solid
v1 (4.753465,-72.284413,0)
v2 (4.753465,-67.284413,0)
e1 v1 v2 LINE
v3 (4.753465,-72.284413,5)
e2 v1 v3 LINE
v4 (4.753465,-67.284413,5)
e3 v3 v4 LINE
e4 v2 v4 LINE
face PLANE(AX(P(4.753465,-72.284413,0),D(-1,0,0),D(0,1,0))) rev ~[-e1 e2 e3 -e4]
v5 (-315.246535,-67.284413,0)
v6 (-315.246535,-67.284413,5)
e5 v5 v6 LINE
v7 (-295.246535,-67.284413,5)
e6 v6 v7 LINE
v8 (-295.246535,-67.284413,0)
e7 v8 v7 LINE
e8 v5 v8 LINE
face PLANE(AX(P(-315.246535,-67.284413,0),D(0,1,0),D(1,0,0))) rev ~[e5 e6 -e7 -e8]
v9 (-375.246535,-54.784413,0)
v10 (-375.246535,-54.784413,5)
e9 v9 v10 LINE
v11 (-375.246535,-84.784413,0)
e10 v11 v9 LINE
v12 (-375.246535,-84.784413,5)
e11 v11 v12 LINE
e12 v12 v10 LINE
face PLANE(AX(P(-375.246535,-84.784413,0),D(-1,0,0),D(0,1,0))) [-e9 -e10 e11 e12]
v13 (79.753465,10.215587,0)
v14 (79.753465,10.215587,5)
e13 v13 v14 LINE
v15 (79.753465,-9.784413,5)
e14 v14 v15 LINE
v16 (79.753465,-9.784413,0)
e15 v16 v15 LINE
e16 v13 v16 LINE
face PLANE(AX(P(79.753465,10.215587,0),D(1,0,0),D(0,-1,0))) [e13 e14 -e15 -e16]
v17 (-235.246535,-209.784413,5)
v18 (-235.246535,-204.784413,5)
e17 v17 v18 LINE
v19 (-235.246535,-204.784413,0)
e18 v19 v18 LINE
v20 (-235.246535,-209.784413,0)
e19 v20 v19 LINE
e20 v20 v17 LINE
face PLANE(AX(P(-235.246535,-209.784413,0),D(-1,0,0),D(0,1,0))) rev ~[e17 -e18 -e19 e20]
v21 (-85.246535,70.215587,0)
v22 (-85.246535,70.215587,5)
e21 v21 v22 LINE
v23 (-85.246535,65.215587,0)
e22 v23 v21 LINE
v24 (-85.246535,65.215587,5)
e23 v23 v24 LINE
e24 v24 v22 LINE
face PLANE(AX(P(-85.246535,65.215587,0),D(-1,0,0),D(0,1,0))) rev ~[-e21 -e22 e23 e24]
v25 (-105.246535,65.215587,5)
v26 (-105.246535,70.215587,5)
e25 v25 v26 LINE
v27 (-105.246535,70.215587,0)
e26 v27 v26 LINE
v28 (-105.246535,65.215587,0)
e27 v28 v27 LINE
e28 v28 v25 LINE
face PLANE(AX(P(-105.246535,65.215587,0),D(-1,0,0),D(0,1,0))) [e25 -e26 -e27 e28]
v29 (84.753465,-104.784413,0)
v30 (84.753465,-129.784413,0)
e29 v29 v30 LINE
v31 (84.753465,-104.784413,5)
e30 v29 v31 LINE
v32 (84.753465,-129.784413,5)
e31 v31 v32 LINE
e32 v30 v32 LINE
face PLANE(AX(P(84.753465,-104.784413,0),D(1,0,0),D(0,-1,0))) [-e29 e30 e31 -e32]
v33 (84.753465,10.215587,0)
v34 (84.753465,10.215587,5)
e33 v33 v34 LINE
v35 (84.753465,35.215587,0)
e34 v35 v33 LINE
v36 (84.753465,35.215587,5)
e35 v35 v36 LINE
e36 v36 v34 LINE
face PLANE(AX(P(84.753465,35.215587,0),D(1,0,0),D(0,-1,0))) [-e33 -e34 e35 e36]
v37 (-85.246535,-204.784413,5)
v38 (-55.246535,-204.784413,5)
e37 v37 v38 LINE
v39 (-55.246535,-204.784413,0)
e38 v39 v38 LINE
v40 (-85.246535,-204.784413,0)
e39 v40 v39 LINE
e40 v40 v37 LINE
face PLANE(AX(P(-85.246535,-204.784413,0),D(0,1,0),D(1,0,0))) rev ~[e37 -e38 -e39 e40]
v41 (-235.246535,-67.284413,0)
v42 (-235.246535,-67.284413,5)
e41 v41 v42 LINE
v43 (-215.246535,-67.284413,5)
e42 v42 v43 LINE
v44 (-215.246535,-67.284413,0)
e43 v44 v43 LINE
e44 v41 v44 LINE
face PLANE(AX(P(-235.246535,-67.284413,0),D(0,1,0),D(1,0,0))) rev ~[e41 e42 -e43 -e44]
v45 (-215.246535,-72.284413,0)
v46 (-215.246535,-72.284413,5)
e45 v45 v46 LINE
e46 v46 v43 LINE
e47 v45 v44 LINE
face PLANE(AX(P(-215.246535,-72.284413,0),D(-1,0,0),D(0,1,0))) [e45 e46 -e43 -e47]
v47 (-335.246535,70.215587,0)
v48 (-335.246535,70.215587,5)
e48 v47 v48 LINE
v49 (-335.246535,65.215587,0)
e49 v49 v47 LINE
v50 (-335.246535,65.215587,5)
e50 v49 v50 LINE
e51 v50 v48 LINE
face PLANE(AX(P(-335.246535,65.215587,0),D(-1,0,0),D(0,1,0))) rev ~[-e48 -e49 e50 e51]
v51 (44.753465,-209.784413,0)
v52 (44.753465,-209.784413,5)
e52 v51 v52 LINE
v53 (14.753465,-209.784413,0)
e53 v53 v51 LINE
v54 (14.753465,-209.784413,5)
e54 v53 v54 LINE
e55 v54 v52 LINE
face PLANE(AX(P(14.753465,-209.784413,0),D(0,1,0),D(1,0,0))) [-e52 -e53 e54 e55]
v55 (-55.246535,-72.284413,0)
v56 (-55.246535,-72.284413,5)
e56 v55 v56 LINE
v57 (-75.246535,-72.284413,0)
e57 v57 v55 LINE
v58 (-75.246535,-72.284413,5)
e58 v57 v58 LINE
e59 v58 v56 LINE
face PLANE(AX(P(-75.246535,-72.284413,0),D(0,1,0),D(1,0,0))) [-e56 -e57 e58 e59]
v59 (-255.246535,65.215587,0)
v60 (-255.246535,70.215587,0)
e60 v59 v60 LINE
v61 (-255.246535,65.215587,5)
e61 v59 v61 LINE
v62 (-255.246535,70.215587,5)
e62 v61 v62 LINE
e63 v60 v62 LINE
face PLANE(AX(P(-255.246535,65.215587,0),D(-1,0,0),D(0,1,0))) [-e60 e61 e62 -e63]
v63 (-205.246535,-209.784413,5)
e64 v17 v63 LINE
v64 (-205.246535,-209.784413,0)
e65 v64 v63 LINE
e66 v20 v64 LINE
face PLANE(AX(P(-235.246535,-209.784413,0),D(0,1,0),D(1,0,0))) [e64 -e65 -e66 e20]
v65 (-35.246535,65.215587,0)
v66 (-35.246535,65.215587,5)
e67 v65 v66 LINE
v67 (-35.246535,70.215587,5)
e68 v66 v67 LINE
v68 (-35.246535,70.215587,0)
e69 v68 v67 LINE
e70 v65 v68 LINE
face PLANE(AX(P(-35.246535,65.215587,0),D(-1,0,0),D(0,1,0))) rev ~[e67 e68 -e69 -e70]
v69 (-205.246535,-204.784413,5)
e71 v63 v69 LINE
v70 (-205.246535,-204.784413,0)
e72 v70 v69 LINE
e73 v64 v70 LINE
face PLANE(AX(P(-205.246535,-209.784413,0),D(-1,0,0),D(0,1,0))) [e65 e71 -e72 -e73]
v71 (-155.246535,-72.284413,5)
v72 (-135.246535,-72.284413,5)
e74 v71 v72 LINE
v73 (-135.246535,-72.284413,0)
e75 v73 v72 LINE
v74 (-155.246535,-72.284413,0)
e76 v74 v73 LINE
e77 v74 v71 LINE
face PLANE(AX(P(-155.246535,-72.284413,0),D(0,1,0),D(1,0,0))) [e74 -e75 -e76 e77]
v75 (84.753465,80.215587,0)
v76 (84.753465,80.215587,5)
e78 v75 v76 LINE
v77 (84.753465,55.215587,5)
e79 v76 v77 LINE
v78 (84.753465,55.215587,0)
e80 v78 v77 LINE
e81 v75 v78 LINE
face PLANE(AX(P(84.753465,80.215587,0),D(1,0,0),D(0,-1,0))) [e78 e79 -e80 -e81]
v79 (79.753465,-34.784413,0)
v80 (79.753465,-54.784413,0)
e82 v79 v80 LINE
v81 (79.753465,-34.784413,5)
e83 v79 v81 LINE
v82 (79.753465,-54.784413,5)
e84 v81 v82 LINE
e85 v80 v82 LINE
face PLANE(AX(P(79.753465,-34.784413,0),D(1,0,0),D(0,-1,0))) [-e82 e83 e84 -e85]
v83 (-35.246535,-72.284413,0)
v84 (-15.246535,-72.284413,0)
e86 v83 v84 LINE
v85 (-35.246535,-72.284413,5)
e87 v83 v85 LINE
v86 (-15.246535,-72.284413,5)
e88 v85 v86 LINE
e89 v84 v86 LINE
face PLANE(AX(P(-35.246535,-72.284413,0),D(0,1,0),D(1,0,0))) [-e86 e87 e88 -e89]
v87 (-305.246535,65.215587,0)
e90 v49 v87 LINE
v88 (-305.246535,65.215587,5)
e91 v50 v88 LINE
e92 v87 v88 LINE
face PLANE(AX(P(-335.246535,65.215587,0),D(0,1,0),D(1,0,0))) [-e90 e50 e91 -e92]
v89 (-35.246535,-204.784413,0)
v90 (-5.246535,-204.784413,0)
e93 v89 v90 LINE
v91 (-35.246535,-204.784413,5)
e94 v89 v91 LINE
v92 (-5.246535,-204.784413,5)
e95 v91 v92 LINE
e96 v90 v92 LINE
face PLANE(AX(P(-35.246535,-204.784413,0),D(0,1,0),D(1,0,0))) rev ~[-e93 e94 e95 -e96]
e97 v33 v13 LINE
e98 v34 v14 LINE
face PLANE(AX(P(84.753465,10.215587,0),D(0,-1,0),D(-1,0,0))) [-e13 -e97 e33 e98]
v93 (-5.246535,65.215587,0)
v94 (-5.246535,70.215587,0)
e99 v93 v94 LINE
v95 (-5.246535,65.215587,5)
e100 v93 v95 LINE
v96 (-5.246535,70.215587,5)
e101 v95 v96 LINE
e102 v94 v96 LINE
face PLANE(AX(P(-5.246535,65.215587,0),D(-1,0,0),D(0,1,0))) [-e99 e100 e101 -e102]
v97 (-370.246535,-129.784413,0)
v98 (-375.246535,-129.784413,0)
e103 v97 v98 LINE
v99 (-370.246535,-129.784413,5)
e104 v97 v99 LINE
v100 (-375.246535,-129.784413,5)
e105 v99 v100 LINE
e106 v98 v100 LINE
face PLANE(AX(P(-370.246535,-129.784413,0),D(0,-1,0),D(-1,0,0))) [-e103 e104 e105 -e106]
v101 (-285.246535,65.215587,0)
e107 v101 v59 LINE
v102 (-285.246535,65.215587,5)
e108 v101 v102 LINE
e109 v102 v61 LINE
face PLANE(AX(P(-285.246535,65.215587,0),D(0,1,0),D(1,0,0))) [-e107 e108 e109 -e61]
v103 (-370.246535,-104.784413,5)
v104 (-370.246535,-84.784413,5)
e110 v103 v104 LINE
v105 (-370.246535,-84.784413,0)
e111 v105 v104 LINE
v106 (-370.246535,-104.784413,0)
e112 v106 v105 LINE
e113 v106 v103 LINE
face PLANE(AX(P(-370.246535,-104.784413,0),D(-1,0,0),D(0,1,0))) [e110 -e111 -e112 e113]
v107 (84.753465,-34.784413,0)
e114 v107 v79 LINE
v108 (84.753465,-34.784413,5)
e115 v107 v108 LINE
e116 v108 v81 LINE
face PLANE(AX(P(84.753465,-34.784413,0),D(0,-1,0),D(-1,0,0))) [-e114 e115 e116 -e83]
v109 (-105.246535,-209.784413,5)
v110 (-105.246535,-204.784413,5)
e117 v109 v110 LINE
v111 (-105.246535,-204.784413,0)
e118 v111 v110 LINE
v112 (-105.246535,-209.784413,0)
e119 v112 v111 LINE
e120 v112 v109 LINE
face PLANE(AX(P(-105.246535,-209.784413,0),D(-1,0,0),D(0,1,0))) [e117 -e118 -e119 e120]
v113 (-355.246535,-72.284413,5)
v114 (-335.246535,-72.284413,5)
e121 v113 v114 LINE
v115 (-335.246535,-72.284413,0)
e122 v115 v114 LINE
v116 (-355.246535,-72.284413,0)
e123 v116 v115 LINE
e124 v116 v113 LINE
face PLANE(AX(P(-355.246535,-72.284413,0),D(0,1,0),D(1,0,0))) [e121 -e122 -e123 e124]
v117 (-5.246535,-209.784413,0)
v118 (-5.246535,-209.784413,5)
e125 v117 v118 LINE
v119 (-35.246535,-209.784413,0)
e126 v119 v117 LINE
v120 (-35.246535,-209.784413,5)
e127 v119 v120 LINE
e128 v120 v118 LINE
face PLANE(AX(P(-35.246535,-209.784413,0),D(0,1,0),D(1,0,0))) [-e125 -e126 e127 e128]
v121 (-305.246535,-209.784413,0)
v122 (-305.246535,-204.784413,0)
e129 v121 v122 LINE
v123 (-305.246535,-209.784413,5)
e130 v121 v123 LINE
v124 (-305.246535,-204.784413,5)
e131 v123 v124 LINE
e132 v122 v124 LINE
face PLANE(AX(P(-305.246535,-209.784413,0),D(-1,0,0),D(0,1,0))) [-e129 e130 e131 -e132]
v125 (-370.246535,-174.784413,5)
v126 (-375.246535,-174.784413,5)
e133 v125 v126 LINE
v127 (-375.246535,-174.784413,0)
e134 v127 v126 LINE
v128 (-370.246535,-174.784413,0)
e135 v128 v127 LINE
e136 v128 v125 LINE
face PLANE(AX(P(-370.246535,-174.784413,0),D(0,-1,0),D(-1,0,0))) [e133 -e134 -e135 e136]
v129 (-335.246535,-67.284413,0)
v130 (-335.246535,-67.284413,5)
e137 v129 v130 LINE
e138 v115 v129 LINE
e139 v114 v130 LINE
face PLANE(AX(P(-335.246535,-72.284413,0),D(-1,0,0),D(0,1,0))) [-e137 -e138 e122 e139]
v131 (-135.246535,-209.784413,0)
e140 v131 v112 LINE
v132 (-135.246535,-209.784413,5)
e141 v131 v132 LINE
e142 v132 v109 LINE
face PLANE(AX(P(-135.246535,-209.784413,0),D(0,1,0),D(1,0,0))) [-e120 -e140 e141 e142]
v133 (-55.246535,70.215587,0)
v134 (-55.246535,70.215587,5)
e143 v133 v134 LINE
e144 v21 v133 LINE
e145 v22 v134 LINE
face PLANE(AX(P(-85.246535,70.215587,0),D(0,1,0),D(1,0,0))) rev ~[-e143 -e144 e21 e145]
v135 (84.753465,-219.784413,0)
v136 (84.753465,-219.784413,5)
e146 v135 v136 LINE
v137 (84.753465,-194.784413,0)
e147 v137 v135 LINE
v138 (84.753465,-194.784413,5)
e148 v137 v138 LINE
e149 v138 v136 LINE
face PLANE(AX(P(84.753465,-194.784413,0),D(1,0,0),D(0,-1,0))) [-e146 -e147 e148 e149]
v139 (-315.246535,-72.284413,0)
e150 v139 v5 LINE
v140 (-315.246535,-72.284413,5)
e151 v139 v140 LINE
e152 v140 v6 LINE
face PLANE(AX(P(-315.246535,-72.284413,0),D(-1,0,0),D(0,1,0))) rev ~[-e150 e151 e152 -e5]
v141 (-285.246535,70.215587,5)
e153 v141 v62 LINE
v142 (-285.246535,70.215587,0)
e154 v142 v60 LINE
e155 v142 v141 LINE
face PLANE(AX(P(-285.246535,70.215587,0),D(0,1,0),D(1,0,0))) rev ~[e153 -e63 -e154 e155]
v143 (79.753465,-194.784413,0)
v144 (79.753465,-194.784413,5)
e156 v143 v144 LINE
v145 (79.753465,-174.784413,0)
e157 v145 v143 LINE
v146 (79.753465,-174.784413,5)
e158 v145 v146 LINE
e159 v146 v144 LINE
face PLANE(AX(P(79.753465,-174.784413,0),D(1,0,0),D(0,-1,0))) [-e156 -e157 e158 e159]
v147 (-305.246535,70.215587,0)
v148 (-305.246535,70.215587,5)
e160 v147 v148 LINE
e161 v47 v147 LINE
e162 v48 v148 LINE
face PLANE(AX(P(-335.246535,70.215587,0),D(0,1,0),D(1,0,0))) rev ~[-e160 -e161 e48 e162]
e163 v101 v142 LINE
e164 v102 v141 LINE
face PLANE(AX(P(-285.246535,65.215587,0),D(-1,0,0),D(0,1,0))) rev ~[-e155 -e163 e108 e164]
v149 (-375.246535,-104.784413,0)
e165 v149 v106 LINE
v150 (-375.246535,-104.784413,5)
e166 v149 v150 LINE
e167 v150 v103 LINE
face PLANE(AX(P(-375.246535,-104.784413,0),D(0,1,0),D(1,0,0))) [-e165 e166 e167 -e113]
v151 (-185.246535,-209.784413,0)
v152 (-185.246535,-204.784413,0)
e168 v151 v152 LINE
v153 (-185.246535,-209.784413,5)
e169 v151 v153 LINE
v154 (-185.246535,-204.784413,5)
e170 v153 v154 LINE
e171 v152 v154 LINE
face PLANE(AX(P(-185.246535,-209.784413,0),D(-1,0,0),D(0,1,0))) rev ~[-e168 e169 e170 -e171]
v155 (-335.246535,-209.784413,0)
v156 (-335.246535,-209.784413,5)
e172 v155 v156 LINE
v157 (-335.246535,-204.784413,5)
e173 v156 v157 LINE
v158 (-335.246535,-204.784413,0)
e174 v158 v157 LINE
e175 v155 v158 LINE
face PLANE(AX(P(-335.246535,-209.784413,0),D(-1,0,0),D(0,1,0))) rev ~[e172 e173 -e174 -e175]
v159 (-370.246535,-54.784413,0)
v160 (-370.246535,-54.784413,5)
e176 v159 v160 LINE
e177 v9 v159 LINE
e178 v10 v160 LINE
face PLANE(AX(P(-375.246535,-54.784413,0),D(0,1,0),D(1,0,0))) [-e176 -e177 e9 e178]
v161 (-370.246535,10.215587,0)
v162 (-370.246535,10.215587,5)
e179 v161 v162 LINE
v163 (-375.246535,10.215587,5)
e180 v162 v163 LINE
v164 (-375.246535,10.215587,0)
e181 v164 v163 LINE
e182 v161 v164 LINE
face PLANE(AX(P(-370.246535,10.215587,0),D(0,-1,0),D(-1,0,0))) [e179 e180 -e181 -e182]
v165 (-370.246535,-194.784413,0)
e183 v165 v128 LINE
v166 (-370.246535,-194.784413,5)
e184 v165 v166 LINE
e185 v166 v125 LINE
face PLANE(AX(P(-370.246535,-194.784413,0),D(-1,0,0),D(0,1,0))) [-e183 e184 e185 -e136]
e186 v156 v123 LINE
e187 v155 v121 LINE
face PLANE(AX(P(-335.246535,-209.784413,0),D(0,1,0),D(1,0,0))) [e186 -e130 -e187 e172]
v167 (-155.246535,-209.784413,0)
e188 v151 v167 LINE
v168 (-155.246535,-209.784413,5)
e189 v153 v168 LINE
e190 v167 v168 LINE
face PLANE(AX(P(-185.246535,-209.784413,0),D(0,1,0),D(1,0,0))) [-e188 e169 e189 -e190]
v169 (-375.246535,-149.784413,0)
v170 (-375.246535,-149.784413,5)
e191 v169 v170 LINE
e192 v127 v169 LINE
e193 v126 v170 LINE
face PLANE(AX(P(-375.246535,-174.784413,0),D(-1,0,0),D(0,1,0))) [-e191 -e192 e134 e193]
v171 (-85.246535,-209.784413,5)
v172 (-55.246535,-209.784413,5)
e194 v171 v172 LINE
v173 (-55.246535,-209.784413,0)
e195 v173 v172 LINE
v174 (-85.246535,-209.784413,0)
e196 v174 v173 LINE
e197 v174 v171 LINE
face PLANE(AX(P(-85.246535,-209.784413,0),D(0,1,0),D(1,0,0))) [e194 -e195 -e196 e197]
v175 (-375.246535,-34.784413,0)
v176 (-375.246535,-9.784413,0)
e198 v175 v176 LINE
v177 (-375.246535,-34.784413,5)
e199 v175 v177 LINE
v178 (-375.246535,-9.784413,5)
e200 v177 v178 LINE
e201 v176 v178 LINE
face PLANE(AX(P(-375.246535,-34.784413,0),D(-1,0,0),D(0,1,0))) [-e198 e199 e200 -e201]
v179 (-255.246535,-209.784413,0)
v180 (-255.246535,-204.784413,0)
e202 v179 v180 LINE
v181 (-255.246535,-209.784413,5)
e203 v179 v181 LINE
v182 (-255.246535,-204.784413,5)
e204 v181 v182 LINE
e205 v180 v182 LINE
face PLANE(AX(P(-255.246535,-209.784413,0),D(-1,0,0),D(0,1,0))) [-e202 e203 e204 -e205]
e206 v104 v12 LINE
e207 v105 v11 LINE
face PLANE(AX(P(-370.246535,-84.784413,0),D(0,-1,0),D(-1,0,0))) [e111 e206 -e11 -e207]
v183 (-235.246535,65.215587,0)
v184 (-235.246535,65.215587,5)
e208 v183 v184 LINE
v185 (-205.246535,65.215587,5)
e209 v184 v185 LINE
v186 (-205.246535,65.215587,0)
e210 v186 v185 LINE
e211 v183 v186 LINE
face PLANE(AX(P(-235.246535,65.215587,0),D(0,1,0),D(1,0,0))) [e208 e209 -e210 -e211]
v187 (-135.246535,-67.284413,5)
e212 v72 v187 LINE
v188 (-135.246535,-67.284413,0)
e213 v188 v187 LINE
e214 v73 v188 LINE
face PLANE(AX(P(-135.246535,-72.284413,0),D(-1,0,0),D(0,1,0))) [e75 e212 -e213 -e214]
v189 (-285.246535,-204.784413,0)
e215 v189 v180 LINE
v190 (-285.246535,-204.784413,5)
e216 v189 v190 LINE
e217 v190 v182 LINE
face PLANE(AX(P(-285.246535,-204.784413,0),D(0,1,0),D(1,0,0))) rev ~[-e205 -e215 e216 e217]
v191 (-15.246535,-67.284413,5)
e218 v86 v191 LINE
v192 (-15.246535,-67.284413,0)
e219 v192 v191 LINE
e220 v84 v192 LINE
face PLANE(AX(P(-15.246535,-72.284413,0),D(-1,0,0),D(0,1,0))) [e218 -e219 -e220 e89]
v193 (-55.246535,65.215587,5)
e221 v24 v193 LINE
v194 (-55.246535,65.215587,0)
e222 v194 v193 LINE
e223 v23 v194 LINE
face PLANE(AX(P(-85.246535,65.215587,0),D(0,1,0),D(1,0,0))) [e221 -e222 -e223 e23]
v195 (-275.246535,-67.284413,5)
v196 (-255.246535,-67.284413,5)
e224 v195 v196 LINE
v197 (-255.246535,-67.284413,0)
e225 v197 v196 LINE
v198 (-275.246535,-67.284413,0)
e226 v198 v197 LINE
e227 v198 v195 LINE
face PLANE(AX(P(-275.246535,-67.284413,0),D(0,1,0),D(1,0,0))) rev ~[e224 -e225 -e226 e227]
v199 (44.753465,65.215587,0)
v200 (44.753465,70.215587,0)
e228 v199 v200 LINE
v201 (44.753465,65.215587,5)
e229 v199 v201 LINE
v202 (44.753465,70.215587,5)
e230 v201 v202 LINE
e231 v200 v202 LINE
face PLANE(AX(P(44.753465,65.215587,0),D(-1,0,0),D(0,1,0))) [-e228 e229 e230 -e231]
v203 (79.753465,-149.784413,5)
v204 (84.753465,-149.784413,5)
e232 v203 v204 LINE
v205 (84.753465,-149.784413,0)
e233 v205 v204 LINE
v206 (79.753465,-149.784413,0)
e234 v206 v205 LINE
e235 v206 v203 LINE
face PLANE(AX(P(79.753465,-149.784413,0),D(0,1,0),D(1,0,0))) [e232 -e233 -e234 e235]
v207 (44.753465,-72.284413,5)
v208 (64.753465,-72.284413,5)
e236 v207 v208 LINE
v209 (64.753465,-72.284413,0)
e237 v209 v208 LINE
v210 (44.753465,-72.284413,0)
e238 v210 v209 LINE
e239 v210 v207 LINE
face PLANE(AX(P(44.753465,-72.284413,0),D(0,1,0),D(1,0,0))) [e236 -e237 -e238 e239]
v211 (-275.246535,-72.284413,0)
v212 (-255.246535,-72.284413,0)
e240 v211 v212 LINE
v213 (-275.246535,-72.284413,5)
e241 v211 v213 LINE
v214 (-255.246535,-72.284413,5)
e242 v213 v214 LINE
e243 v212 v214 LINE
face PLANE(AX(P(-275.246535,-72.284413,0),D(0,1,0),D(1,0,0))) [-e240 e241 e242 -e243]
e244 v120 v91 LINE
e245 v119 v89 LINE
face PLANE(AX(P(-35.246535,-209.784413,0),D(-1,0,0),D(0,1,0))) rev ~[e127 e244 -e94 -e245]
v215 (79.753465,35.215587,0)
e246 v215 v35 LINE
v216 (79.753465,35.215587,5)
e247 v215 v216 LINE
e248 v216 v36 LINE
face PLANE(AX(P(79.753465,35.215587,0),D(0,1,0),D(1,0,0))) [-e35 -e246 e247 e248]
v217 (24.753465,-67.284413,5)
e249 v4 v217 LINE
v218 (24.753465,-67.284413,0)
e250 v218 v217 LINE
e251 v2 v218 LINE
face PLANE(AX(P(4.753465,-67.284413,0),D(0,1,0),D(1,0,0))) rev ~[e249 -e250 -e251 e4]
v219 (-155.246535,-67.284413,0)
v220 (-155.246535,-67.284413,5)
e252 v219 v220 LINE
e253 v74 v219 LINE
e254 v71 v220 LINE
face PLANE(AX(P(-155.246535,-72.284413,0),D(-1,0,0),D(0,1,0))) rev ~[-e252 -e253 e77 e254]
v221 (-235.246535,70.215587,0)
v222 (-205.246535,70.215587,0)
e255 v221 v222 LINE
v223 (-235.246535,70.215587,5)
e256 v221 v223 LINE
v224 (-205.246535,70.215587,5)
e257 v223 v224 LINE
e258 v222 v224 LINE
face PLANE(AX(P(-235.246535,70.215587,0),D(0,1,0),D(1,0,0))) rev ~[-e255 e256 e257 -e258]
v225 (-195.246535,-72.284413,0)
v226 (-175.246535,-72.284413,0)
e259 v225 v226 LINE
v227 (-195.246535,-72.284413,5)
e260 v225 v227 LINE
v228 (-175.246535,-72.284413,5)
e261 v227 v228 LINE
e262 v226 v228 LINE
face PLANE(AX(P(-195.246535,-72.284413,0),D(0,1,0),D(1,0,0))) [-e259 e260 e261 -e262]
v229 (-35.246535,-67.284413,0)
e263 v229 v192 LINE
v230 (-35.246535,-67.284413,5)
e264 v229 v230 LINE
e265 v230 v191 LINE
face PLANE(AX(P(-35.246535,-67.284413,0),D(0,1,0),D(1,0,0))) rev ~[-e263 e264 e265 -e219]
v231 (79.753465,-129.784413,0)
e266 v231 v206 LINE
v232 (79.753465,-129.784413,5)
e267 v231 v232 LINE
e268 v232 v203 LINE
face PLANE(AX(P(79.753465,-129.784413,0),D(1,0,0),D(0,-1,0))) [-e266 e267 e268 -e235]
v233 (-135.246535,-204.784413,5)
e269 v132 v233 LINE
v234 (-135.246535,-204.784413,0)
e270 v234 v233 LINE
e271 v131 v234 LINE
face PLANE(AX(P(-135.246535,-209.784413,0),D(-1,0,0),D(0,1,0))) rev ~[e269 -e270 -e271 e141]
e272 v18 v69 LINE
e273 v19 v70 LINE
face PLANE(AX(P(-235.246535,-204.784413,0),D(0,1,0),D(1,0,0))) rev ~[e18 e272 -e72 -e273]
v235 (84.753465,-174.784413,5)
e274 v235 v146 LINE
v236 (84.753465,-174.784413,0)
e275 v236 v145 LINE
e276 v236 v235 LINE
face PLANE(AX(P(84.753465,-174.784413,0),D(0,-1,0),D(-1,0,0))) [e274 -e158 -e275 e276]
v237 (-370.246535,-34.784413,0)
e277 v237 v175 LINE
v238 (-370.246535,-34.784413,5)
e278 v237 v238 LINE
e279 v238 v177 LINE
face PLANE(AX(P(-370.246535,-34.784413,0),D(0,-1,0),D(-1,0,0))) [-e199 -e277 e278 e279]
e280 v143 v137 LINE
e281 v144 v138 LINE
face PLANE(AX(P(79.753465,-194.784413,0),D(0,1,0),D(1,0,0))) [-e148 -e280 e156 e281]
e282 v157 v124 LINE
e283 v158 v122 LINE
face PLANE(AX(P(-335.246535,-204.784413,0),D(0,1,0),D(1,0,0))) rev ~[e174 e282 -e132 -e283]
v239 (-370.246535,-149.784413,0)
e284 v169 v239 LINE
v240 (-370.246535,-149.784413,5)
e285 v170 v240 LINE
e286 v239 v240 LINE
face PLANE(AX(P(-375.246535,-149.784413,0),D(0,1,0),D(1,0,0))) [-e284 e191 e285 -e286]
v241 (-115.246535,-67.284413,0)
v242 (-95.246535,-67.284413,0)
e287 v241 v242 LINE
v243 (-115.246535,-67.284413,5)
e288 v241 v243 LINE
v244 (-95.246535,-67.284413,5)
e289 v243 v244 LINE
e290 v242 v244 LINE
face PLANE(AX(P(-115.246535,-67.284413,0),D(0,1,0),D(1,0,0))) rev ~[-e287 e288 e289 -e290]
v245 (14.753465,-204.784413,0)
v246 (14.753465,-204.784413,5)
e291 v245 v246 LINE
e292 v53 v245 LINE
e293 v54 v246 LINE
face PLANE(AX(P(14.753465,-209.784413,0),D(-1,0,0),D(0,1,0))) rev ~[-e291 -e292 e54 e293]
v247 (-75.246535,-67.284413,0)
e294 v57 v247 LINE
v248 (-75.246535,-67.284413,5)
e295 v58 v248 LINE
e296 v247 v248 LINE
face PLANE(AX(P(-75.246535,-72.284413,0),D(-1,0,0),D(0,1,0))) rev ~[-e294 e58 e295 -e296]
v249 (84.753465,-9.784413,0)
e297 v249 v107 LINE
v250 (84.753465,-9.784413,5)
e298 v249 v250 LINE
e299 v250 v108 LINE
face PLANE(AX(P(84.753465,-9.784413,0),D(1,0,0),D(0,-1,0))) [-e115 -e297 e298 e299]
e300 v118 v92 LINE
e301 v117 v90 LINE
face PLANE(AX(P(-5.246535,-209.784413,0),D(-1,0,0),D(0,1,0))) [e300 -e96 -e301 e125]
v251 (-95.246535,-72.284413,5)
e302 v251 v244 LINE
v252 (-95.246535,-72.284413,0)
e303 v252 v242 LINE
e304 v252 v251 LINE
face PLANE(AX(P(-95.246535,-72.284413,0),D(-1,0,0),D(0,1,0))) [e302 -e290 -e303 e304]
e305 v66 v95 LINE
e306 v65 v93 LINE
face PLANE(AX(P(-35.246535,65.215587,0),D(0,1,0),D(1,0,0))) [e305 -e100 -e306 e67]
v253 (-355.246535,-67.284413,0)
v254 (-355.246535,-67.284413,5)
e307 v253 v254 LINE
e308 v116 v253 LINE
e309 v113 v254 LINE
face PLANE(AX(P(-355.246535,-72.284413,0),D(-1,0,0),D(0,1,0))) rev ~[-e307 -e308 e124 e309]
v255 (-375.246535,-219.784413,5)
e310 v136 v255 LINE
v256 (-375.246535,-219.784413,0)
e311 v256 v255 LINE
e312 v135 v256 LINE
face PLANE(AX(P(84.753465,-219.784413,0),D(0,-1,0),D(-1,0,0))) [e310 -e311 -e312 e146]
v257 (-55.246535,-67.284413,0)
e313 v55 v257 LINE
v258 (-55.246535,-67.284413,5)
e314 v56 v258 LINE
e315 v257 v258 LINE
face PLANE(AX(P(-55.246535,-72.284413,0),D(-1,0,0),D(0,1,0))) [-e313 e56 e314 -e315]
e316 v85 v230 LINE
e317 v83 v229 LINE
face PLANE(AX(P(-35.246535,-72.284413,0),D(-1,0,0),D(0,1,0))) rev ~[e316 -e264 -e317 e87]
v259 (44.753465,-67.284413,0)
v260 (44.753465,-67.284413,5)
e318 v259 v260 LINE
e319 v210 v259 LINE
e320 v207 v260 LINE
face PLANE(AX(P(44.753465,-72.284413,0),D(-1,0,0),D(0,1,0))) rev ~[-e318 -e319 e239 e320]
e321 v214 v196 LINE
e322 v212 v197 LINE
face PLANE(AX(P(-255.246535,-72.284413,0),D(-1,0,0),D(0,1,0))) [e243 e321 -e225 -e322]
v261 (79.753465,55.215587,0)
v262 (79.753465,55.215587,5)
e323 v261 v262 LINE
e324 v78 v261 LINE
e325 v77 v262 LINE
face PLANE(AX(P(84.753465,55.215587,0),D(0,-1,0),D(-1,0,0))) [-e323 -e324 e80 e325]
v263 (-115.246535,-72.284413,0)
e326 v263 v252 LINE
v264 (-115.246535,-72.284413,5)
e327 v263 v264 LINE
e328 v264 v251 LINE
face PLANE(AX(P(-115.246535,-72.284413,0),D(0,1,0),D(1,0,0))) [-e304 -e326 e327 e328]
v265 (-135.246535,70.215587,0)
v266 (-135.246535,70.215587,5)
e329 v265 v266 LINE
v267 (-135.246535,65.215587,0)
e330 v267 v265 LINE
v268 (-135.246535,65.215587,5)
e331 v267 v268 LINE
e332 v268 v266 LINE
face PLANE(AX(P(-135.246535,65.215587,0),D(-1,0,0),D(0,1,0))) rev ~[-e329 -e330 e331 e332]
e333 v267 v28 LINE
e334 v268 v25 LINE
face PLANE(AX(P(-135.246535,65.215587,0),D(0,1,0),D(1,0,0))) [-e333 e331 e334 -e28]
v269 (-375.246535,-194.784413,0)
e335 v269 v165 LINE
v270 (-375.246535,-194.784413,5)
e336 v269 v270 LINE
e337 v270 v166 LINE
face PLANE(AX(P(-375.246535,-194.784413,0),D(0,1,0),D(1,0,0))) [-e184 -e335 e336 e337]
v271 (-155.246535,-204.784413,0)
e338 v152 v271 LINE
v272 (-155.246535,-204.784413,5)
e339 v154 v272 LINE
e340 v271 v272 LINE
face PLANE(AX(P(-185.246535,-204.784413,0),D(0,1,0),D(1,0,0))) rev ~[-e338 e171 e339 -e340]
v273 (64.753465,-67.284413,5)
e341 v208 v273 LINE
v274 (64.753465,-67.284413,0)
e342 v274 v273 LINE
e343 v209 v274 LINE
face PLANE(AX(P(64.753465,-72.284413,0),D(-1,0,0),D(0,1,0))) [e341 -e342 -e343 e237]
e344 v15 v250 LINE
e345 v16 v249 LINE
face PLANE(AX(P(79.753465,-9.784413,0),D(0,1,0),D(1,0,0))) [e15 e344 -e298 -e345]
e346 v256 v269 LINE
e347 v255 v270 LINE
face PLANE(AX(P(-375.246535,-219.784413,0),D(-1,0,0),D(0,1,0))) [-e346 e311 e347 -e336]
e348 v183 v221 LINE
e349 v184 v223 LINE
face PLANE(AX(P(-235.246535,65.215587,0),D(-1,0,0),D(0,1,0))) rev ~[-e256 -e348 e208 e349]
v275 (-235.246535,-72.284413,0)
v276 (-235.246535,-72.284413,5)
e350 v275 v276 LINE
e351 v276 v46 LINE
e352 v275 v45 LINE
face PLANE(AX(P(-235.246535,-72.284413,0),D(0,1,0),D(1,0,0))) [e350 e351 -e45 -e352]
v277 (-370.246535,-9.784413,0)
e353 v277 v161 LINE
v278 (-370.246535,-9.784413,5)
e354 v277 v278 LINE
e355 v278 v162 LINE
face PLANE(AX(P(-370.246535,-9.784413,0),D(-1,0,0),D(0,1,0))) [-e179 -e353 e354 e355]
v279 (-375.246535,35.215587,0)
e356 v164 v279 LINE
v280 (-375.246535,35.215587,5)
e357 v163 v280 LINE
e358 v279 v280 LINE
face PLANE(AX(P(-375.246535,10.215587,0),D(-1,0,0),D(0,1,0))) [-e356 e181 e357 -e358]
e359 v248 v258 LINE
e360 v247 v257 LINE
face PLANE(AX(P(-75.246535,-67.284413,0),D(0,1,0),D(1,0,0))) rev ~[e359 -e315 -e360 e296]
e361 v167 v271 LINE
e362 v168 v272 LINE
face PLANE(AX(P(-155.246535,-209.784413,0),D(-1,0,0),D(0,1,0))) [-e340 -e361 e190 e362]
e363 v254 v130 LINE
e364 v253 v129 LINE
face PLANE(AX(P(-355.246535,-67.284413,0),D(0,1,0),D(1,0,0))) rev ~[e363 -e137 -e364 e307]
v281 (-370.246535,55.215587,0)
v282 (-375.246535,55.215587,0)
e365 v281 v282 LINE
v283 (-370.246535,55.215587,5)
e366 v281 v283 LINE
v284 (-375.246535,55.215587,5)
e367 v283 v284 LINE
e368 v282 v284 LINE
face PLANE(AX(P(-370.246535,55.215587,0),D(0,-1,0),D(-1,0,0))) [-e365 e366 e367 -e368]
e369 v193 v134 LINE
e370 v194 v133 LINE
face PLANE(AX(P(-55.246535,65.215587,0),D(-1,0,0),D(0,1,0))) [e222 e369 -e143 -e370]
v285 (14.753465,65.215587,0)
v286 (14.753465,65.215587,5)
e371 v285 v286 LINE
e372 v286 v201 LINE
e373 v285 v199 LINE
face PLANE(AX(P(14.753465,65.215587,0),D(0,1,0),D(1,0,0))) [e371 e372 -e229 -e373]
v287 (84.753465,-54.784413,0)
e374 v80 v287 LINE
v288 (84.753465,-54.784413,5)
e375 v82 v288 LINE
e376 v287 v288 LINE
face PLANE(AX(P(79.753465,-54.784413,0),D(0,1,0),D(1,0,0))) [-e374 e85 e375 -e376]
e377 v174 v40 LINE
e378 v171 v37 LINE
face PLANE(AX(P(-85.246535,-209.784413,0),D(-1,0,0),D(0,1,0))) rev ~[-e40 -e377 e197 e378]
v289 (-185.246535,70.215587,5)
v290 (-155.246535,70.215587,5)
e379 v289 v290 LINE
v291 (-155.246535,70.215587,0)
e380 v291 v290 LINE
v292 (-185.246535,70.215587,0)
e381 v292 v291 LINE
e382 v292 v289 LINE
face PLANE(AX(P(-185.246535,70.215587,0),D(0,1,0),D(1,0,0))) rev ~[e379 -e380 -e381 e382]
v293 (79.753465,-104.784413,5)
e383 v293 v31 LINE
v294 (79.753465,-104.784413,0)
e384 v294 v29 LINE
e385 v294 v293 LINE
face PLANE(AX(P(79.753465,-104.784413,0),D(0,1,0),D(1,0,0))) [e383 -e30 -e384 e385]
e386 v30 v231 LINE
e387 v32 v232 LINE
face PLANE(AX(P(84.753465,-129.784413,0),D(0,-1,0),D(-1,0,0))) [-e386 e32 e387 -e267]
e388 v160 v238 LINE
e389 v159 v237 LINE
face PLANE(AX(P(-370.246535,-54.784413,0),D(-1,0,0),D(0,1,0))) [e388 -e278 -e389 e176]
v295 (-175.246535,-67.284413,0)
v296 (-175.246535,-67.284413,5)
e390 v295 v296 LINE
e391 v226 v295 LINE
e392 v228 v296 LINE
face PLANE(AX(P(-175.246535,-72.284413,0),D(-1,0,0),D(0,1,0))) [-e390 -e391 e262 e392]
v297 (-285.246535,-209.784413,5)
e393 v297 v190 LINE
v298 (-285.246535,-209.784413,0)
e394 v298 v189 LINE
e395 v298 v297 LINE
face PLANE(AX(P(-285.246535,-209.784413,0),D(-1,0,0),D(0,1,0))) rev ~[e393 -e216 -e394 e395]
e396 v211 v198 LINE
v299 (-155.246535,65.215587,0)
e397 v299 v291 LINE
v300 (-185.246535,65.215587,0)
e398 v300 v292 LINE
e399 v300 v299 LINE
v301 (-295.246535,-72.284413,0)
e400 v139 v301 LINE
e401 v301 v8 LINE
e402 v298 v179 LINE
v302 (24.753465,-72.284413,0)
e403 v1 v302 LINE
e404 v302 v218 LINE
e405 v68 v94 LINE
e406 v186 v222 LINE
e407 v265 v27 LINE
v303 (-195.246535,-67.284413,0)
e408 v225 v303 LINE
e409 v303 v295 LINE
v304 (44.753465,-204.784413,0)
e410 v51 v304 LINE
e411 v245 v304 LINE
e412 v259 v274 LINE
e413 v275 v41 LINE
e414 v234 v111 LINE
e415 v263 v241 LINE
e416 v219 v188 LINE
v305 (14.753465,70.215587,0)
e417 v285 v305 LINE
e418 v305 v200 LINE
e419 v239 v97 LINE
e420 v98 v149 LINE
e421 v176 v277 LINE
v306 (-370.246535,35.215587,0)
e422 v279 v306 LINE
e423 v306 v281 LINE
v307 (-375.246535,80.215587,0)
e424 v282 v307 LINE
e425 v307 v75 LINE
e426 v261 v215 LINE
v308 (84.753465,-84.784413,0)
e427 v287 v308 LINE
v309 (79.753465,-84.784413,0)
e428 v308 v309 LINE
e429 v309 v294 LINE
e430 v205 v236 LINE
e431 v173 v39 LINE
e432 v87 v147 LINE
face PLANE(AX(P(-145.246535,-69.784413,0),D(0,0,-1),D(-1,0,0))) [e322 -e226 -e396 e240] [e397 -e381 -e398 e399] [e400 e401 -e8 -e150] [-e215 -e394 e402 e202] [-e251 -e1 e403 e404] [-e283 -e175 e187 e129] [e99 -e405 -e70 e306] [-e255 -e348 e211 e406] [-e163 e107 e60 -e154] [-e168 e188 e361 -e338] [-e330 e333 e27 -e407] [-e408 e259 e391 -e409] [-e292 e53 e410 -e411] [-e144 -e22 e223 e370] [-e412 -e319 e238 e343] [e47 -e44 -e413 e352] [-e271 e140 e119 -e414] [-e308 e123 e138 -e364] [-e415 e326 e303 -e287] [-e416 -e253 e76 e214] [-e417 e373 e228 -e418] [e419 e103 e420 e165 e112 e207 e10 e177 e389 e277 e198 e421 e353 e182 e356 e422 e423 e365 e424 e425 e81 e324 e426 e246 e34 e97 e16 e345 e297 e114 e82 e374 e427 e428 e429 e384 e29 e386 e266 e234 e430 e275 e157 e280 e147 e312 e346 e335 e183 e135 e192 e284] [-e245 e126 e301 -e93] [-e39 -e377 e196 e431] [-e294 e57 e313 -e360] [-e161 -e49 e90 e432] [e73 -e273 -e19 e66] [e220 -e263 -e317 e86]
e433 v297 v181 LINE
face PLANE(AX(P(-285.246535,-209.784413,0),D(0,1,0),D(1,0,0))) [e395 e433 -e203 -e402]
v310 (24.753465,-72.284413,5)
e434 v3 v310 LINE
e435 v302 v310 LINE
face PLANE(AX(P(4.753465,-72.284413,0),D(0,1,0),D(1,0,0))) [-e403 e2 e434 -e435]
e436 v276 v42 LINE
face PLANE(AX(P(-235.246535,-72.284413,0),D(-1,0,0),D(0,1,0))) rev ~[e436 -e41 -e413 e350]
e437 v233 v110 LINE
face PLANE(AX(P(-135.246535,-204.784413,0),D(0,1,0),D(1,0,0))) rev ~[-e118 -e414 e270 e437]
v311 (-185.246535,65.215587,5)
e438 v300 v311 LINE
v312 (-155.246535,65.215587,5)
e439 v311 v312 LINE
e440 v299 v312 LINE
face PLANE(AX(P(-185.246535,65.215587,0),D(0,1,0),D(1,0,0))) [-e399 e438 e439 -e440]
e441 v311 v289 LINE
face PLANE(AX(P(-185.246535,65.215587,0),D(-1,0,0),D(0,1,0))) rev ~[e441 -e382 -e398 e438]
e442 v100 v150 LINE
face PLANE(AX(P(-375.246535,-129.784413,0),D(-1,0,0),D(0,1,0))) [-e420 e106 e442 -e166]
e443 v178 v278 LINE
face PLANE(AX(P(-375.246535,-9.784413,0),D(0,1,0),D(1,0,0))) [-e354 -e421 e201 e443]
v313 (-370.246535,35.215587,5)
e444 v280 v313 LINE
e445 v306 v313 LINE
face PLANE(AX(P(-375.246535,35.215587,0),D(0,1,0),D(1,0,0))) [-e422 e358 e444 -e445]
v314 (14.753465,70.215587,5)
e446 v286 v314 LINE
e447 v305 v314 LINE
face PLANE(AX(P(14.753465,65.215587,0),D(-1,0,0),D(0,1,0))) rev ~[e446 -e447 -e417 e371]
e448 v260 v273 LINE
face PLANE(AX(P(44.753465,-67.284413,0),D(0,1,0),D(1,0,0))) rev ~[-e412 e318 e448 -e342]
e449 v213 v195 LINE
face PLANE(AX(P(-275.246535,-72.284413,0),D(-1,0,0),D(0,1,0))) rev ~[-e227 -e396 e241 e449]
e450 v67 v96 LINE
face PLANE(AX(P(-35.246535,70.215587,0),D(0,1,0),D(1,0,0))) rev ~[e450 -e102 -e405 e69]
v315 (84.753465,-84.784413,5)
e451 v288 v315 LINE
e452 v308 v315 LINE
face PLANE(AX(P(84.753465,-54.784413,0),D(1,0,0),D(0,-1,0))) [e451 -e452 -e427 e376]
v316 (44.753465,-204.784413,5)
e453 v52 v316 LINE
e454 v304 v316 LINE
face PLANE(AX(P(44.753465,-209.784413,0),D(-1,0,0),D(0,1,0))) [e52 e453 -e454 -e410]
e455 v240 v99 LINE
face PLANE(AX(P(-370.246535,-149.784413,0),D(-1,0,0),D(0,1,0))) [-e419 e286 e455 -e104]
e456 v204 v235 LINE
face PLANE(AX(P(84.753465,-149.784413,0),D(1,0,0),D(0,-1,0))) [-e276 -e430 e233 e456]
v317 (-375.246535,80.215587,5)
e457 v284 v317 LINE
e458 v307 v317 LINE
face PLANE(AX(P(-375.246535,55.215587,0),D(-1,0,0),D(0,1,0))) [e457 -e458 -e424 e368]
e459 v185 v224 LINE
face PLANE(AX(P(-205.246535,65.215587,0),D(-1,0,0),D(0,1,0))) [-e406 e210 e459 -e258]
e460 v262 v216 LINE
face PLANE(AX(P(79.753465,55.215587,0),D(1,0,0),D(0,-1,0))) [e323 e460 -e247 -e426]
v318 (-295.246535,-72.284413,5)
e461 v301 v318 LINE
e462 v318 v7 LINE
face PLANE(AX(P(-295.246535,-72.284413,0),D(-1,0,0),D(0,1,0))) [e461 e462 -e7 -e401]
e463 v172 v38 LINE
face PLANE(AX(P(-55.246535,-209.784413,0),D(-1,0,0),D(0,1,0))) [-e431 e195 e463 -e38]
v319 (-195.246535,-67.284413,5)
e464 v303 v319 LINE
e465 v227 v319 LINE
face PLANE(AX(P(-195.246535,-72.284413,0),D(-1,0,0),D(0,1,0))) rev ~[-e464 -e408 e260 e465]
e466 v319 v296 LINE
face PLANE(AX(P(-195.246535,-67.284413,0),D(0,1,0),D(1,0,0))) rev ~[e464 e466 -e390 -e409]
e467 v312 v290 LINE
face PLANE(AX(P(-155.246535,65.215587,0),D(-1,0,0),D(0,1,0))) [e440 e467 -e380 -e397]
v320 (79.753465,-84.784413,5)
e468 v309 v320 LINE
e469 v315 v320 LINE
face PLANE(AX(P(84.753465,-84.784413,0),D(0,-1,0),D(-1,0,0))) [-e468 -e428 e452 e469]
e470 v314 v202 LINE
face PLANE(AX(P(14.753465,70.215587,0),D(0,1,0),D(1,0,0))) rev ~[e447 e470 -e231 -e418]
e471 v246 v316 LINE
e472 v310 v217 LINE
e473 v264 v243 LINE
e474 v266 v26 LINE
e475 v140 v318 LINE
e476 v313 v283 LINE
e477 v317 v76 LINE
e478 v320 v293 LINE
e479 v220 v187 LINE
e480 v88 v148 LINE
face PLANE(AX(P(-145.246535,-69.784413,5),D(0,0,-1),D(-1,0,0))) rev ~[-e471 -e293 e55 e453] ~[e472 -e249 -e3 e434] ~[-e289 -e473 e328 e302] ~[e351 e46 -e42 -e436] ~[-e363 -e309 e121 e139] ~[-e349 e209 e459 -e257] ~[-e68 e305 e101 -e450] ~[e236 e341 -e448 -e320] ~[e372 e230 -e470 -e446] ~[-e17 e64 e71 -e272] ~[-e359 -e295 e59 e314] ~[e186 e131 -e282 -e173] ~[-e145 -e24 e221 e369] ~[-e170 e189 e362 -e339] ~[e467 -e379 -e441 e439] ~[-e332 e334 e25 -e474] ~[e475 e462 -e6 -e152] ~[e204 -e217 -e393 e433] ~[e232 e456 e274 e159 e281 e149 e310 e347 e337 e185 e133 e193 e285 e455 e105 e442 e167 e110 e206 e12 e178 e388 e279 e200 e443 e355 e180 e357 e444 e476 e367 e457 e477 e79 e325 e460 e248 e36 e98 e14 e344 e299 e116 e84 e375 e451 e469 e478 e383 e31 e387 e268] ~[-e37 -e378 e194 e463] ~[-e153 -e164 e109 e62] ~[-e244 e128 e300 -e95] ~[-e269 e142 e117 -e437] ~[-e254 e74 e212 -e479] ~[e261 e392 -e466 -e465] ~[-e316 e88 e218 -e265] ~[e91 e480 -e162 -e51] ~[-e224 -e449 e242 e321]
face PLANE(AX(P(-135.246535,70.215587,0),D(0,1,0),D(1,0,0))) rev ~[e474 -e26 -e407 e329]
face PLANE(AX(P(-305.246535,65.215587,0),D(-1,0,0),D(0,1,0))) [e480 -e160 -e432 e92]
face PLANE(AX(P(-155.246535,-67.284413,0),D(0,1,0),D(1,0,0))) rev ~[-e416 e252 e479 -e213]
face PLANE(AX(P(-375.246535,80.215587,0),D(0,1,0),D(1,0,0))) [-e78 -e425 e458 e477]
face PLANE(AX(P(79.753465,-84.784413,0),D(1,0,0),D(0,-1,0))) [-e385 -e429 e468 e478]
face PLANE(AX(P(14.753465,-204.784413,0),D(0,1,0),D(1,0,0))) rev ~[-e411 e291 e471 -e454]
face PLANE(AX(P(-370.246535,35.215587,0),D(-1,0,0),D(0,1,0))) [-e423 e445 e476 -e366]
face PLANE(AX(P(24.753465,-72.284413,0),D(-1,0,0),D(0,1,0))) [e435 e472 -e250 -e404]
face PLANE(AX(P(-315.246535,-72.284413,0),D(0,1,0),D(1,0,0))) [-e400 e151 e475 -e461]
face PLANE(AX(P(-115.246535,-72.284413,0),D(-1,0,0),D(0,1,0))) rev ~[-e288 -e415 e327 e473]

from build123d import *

# Parameters (mm, degrees)
SKETCH1_W           = 30
SKETCH1_H           = 5
SKETCH1_W_2         = 20
BOSS_EXTRUDE1_DEPTH = 5


with BuildPart() as part:
    # Sketch1 → Boss-Extrude1 (new body)
    with BuildSketch(Plane.XY):
        Polygon((84.753464523, -219.784412909), (-375.246535477, -219.784412909), (-375.246535477, -194.784412909), (-370.246535477, -194.784412909), (-370.246535477, -174.784412909), (-375.246535477, -174.784412909), (-375.246535477, -149.784412909), (-370.246535477, -149.784412909), (-370.246535477, -129.784412909), (-375.246535477, -129.784412909), (-375.246535477, -104.784412909), (-370.246535477, -104.784412909), (-370.246535477, -84.784412909), (-375.246535477, -84.784412909), (-375.246535477, -54.784412909), (-370.246535477, -54.784412909), (-370.246535477, -34.784412909), (-375.246535477, -34.784412909), (-375.246535477, -9.784412909), (-370.246535477, -9.784412909), (-370.246535477, 10.215587091), (-375.246535477, 10.215587091), (-375.246535477, 35.215587091), (-370.246535477, 35.215587091), (-370.246535477, 55.215587091), (-375.246535477, 55.215587091), (-375.246535477, 80.215587091), (84.753464523, 80.215587091), (84.753464523, 55.215587091), (79.753464523, 55.215587091), (79.753464523, 35.215587091), (84.753464523, 35.215587091), (84.753464523, 10.215587091), (79.753464523, 10.215587091), (79.753464523, -9.784412909), (84.753464523, -9.784412909), (84.753464523, -34.784412909), (79.753464523, -34.784412909), (79.753464523, -54.784412909), (84.753464523, -54.784412909), (84.753464523, -84.784412909), (79.753464523, -84.784412909), (79.753464523, -104.784412909), (84.753464523, -104.784412909), (84.753464523, -129.784412909), (79.753464523, -129.784412909), (79.753464523, -149.784412909), (84.753464523, -149.784412909), (84.753464523, -174.784412909), (79.753464523, -174.784412909), (79.753464523, -194.784412909), (84.753464523, -194.784412909), align=None)
        with Locations((-70.246535477, -207.284412909)):
            Rectangle(SKETCH1_W, SKETCH1_H, mode=Mode.SUBTRACT)
        with Locations((-120.246535477, -207.284412909)):
            Rectangle(SKETCH1_W, SKETCH1_H, mode=Mode.SUBTRACT)
        with Locations((-20.246535477, -207.284412909)):
            Rectangle(SKETCH1_W, SKETCH1_H, mode=Mode.SUBTRACT)
        with Locations((29.753464523, -207.284412909)):
            Rectangle(SKETCH1_W, SKETCH1_H, mode=Mode.SUBTRACT)
        with Locations((-320.246535477, -207.284412909)):
            Rectangle(SKETCH1_W, SKETCH1_H, mode=Mode.SUBTRACT)
        with Locations((-270.246535477, -207.284412909)):
            Rectangle(SKETCH1_W, SKETCH1_H, mode=Mode.SUBTRACT)
        with Locations((-220.246535477, -207.284412909)):
            Rectangle(SKETCH1_W, SKETCH1_H, mode=Mode.SUBTRACT)
        with Locations((-170.246535477, -207.284412909)):
            Rectangle(SKETCH1_W, SKETCH1_H, mode=Mode.SUBTRACT)
        with Locations((-220.246535477, 67.715587091)):
            Rectangle(SKETCH1_W, SKETCH1_H, mode=Mode.SUBTRACT)
        with Locations((-170.246535477, 67.715587091)):
            Rectangle(SKETCH1_W, SKETCH1_H, mode=Mode.SUBTRACT)
        with Locations((-270.246535477, 67.715587091)):
            Rectangle(SKETCH1_W, SKETCH1_H, mode=Mode.SUBTRACT)
        with Locations((-320.246535477, 67.715587091)):
            Rectangle(SKETCH1_W, SKETCH1_H, mode=Mode.SUBTRACT)
        with Locations((29.753464523, 67.715587091)):
            Rectangle(SKETCH1_W, SKETCH1_H, mode=Mode.SUBTRACT)
        with Locations((-20.246535477, 67.715587091)):
            Rectangle(SKETCH1_W, SKETCH1_H, mode=Mode.SUBTRACT)
        with Locations((-70.246535477, 67.715587091)):
            Rectangle(SKETCH1_W, SKETCH1_H, mode=Mode.SUBTRACT)
        with Locations((-120.246535477, 67.715587091)):
            Rectangle(SKETCH1_W, SKETCH1_H, mode=Mode.SUBTRACT)
        with Locations((-185.246535477, -69.784412909)):
            Rectangle(SKETCH1_W_2, SKETCH1_H, mode=Mode.SUBTRACT)
        with Locations((-145.246535477, -69.784412909)):
            Rectangle(SKETCH1_W_2, SKETCH1_H, mode=Mode.SUBTRACT)
        with Locations((-225.246535477, -69.784412909)):
            Rectangle(SKETCH1_W_2, SKETCH1_H, mode=Mode.SUBTRACT)
        with Locations((-265.246535477, -69.784412909)):
            Rectangle(SKETCH1_W_2, SKETCH1_H, mode=Mode.SUBTRACT)
        with Locations((-305.246535477, -69.784412909)):
            Rectangle(SKETCH1_W_2, SKETCH1_H, mode=Mode.SUBTRACT)
        with Locations((-345.246535477, -69.784412909)):
            Rectangle(SKETCH1_W_2, SKETCH1_H, mode=Mode.SUBTRACT)
        with Locations((54.753464523, -69.784412909)):
            Rectangle(SKETCH1_W_2, SKETCH1_H, mode=Mode.SUBTRACT)
        with Locations((14.753464523, -69.784412909)):
            Rectangle(SKETCH1_W_2, SKETCH1_H, mode=Mode.SUBTRACT)
        with Locations((-25.246535477, -69.784412909)):
            Rectangle(SKETCH1_W_2, SKETCH1_H, mode=Mode.SUBTRACT)
        with Locations((-65.246535477, -69.784412909)):
            Rectangle(SKETCH1_W_2, SKETCH1_H, mode=Mode.SUBTRACT)
        with Locations((-105.246535477, -69.784412909)):
            Rectangle(SKETCH1_W_2, SKETCH1_H, mode=Mode.SUBTRACT)
    extrude(amount=BOSS_EXTRUDE1_DEPTH)


solid = part.part
